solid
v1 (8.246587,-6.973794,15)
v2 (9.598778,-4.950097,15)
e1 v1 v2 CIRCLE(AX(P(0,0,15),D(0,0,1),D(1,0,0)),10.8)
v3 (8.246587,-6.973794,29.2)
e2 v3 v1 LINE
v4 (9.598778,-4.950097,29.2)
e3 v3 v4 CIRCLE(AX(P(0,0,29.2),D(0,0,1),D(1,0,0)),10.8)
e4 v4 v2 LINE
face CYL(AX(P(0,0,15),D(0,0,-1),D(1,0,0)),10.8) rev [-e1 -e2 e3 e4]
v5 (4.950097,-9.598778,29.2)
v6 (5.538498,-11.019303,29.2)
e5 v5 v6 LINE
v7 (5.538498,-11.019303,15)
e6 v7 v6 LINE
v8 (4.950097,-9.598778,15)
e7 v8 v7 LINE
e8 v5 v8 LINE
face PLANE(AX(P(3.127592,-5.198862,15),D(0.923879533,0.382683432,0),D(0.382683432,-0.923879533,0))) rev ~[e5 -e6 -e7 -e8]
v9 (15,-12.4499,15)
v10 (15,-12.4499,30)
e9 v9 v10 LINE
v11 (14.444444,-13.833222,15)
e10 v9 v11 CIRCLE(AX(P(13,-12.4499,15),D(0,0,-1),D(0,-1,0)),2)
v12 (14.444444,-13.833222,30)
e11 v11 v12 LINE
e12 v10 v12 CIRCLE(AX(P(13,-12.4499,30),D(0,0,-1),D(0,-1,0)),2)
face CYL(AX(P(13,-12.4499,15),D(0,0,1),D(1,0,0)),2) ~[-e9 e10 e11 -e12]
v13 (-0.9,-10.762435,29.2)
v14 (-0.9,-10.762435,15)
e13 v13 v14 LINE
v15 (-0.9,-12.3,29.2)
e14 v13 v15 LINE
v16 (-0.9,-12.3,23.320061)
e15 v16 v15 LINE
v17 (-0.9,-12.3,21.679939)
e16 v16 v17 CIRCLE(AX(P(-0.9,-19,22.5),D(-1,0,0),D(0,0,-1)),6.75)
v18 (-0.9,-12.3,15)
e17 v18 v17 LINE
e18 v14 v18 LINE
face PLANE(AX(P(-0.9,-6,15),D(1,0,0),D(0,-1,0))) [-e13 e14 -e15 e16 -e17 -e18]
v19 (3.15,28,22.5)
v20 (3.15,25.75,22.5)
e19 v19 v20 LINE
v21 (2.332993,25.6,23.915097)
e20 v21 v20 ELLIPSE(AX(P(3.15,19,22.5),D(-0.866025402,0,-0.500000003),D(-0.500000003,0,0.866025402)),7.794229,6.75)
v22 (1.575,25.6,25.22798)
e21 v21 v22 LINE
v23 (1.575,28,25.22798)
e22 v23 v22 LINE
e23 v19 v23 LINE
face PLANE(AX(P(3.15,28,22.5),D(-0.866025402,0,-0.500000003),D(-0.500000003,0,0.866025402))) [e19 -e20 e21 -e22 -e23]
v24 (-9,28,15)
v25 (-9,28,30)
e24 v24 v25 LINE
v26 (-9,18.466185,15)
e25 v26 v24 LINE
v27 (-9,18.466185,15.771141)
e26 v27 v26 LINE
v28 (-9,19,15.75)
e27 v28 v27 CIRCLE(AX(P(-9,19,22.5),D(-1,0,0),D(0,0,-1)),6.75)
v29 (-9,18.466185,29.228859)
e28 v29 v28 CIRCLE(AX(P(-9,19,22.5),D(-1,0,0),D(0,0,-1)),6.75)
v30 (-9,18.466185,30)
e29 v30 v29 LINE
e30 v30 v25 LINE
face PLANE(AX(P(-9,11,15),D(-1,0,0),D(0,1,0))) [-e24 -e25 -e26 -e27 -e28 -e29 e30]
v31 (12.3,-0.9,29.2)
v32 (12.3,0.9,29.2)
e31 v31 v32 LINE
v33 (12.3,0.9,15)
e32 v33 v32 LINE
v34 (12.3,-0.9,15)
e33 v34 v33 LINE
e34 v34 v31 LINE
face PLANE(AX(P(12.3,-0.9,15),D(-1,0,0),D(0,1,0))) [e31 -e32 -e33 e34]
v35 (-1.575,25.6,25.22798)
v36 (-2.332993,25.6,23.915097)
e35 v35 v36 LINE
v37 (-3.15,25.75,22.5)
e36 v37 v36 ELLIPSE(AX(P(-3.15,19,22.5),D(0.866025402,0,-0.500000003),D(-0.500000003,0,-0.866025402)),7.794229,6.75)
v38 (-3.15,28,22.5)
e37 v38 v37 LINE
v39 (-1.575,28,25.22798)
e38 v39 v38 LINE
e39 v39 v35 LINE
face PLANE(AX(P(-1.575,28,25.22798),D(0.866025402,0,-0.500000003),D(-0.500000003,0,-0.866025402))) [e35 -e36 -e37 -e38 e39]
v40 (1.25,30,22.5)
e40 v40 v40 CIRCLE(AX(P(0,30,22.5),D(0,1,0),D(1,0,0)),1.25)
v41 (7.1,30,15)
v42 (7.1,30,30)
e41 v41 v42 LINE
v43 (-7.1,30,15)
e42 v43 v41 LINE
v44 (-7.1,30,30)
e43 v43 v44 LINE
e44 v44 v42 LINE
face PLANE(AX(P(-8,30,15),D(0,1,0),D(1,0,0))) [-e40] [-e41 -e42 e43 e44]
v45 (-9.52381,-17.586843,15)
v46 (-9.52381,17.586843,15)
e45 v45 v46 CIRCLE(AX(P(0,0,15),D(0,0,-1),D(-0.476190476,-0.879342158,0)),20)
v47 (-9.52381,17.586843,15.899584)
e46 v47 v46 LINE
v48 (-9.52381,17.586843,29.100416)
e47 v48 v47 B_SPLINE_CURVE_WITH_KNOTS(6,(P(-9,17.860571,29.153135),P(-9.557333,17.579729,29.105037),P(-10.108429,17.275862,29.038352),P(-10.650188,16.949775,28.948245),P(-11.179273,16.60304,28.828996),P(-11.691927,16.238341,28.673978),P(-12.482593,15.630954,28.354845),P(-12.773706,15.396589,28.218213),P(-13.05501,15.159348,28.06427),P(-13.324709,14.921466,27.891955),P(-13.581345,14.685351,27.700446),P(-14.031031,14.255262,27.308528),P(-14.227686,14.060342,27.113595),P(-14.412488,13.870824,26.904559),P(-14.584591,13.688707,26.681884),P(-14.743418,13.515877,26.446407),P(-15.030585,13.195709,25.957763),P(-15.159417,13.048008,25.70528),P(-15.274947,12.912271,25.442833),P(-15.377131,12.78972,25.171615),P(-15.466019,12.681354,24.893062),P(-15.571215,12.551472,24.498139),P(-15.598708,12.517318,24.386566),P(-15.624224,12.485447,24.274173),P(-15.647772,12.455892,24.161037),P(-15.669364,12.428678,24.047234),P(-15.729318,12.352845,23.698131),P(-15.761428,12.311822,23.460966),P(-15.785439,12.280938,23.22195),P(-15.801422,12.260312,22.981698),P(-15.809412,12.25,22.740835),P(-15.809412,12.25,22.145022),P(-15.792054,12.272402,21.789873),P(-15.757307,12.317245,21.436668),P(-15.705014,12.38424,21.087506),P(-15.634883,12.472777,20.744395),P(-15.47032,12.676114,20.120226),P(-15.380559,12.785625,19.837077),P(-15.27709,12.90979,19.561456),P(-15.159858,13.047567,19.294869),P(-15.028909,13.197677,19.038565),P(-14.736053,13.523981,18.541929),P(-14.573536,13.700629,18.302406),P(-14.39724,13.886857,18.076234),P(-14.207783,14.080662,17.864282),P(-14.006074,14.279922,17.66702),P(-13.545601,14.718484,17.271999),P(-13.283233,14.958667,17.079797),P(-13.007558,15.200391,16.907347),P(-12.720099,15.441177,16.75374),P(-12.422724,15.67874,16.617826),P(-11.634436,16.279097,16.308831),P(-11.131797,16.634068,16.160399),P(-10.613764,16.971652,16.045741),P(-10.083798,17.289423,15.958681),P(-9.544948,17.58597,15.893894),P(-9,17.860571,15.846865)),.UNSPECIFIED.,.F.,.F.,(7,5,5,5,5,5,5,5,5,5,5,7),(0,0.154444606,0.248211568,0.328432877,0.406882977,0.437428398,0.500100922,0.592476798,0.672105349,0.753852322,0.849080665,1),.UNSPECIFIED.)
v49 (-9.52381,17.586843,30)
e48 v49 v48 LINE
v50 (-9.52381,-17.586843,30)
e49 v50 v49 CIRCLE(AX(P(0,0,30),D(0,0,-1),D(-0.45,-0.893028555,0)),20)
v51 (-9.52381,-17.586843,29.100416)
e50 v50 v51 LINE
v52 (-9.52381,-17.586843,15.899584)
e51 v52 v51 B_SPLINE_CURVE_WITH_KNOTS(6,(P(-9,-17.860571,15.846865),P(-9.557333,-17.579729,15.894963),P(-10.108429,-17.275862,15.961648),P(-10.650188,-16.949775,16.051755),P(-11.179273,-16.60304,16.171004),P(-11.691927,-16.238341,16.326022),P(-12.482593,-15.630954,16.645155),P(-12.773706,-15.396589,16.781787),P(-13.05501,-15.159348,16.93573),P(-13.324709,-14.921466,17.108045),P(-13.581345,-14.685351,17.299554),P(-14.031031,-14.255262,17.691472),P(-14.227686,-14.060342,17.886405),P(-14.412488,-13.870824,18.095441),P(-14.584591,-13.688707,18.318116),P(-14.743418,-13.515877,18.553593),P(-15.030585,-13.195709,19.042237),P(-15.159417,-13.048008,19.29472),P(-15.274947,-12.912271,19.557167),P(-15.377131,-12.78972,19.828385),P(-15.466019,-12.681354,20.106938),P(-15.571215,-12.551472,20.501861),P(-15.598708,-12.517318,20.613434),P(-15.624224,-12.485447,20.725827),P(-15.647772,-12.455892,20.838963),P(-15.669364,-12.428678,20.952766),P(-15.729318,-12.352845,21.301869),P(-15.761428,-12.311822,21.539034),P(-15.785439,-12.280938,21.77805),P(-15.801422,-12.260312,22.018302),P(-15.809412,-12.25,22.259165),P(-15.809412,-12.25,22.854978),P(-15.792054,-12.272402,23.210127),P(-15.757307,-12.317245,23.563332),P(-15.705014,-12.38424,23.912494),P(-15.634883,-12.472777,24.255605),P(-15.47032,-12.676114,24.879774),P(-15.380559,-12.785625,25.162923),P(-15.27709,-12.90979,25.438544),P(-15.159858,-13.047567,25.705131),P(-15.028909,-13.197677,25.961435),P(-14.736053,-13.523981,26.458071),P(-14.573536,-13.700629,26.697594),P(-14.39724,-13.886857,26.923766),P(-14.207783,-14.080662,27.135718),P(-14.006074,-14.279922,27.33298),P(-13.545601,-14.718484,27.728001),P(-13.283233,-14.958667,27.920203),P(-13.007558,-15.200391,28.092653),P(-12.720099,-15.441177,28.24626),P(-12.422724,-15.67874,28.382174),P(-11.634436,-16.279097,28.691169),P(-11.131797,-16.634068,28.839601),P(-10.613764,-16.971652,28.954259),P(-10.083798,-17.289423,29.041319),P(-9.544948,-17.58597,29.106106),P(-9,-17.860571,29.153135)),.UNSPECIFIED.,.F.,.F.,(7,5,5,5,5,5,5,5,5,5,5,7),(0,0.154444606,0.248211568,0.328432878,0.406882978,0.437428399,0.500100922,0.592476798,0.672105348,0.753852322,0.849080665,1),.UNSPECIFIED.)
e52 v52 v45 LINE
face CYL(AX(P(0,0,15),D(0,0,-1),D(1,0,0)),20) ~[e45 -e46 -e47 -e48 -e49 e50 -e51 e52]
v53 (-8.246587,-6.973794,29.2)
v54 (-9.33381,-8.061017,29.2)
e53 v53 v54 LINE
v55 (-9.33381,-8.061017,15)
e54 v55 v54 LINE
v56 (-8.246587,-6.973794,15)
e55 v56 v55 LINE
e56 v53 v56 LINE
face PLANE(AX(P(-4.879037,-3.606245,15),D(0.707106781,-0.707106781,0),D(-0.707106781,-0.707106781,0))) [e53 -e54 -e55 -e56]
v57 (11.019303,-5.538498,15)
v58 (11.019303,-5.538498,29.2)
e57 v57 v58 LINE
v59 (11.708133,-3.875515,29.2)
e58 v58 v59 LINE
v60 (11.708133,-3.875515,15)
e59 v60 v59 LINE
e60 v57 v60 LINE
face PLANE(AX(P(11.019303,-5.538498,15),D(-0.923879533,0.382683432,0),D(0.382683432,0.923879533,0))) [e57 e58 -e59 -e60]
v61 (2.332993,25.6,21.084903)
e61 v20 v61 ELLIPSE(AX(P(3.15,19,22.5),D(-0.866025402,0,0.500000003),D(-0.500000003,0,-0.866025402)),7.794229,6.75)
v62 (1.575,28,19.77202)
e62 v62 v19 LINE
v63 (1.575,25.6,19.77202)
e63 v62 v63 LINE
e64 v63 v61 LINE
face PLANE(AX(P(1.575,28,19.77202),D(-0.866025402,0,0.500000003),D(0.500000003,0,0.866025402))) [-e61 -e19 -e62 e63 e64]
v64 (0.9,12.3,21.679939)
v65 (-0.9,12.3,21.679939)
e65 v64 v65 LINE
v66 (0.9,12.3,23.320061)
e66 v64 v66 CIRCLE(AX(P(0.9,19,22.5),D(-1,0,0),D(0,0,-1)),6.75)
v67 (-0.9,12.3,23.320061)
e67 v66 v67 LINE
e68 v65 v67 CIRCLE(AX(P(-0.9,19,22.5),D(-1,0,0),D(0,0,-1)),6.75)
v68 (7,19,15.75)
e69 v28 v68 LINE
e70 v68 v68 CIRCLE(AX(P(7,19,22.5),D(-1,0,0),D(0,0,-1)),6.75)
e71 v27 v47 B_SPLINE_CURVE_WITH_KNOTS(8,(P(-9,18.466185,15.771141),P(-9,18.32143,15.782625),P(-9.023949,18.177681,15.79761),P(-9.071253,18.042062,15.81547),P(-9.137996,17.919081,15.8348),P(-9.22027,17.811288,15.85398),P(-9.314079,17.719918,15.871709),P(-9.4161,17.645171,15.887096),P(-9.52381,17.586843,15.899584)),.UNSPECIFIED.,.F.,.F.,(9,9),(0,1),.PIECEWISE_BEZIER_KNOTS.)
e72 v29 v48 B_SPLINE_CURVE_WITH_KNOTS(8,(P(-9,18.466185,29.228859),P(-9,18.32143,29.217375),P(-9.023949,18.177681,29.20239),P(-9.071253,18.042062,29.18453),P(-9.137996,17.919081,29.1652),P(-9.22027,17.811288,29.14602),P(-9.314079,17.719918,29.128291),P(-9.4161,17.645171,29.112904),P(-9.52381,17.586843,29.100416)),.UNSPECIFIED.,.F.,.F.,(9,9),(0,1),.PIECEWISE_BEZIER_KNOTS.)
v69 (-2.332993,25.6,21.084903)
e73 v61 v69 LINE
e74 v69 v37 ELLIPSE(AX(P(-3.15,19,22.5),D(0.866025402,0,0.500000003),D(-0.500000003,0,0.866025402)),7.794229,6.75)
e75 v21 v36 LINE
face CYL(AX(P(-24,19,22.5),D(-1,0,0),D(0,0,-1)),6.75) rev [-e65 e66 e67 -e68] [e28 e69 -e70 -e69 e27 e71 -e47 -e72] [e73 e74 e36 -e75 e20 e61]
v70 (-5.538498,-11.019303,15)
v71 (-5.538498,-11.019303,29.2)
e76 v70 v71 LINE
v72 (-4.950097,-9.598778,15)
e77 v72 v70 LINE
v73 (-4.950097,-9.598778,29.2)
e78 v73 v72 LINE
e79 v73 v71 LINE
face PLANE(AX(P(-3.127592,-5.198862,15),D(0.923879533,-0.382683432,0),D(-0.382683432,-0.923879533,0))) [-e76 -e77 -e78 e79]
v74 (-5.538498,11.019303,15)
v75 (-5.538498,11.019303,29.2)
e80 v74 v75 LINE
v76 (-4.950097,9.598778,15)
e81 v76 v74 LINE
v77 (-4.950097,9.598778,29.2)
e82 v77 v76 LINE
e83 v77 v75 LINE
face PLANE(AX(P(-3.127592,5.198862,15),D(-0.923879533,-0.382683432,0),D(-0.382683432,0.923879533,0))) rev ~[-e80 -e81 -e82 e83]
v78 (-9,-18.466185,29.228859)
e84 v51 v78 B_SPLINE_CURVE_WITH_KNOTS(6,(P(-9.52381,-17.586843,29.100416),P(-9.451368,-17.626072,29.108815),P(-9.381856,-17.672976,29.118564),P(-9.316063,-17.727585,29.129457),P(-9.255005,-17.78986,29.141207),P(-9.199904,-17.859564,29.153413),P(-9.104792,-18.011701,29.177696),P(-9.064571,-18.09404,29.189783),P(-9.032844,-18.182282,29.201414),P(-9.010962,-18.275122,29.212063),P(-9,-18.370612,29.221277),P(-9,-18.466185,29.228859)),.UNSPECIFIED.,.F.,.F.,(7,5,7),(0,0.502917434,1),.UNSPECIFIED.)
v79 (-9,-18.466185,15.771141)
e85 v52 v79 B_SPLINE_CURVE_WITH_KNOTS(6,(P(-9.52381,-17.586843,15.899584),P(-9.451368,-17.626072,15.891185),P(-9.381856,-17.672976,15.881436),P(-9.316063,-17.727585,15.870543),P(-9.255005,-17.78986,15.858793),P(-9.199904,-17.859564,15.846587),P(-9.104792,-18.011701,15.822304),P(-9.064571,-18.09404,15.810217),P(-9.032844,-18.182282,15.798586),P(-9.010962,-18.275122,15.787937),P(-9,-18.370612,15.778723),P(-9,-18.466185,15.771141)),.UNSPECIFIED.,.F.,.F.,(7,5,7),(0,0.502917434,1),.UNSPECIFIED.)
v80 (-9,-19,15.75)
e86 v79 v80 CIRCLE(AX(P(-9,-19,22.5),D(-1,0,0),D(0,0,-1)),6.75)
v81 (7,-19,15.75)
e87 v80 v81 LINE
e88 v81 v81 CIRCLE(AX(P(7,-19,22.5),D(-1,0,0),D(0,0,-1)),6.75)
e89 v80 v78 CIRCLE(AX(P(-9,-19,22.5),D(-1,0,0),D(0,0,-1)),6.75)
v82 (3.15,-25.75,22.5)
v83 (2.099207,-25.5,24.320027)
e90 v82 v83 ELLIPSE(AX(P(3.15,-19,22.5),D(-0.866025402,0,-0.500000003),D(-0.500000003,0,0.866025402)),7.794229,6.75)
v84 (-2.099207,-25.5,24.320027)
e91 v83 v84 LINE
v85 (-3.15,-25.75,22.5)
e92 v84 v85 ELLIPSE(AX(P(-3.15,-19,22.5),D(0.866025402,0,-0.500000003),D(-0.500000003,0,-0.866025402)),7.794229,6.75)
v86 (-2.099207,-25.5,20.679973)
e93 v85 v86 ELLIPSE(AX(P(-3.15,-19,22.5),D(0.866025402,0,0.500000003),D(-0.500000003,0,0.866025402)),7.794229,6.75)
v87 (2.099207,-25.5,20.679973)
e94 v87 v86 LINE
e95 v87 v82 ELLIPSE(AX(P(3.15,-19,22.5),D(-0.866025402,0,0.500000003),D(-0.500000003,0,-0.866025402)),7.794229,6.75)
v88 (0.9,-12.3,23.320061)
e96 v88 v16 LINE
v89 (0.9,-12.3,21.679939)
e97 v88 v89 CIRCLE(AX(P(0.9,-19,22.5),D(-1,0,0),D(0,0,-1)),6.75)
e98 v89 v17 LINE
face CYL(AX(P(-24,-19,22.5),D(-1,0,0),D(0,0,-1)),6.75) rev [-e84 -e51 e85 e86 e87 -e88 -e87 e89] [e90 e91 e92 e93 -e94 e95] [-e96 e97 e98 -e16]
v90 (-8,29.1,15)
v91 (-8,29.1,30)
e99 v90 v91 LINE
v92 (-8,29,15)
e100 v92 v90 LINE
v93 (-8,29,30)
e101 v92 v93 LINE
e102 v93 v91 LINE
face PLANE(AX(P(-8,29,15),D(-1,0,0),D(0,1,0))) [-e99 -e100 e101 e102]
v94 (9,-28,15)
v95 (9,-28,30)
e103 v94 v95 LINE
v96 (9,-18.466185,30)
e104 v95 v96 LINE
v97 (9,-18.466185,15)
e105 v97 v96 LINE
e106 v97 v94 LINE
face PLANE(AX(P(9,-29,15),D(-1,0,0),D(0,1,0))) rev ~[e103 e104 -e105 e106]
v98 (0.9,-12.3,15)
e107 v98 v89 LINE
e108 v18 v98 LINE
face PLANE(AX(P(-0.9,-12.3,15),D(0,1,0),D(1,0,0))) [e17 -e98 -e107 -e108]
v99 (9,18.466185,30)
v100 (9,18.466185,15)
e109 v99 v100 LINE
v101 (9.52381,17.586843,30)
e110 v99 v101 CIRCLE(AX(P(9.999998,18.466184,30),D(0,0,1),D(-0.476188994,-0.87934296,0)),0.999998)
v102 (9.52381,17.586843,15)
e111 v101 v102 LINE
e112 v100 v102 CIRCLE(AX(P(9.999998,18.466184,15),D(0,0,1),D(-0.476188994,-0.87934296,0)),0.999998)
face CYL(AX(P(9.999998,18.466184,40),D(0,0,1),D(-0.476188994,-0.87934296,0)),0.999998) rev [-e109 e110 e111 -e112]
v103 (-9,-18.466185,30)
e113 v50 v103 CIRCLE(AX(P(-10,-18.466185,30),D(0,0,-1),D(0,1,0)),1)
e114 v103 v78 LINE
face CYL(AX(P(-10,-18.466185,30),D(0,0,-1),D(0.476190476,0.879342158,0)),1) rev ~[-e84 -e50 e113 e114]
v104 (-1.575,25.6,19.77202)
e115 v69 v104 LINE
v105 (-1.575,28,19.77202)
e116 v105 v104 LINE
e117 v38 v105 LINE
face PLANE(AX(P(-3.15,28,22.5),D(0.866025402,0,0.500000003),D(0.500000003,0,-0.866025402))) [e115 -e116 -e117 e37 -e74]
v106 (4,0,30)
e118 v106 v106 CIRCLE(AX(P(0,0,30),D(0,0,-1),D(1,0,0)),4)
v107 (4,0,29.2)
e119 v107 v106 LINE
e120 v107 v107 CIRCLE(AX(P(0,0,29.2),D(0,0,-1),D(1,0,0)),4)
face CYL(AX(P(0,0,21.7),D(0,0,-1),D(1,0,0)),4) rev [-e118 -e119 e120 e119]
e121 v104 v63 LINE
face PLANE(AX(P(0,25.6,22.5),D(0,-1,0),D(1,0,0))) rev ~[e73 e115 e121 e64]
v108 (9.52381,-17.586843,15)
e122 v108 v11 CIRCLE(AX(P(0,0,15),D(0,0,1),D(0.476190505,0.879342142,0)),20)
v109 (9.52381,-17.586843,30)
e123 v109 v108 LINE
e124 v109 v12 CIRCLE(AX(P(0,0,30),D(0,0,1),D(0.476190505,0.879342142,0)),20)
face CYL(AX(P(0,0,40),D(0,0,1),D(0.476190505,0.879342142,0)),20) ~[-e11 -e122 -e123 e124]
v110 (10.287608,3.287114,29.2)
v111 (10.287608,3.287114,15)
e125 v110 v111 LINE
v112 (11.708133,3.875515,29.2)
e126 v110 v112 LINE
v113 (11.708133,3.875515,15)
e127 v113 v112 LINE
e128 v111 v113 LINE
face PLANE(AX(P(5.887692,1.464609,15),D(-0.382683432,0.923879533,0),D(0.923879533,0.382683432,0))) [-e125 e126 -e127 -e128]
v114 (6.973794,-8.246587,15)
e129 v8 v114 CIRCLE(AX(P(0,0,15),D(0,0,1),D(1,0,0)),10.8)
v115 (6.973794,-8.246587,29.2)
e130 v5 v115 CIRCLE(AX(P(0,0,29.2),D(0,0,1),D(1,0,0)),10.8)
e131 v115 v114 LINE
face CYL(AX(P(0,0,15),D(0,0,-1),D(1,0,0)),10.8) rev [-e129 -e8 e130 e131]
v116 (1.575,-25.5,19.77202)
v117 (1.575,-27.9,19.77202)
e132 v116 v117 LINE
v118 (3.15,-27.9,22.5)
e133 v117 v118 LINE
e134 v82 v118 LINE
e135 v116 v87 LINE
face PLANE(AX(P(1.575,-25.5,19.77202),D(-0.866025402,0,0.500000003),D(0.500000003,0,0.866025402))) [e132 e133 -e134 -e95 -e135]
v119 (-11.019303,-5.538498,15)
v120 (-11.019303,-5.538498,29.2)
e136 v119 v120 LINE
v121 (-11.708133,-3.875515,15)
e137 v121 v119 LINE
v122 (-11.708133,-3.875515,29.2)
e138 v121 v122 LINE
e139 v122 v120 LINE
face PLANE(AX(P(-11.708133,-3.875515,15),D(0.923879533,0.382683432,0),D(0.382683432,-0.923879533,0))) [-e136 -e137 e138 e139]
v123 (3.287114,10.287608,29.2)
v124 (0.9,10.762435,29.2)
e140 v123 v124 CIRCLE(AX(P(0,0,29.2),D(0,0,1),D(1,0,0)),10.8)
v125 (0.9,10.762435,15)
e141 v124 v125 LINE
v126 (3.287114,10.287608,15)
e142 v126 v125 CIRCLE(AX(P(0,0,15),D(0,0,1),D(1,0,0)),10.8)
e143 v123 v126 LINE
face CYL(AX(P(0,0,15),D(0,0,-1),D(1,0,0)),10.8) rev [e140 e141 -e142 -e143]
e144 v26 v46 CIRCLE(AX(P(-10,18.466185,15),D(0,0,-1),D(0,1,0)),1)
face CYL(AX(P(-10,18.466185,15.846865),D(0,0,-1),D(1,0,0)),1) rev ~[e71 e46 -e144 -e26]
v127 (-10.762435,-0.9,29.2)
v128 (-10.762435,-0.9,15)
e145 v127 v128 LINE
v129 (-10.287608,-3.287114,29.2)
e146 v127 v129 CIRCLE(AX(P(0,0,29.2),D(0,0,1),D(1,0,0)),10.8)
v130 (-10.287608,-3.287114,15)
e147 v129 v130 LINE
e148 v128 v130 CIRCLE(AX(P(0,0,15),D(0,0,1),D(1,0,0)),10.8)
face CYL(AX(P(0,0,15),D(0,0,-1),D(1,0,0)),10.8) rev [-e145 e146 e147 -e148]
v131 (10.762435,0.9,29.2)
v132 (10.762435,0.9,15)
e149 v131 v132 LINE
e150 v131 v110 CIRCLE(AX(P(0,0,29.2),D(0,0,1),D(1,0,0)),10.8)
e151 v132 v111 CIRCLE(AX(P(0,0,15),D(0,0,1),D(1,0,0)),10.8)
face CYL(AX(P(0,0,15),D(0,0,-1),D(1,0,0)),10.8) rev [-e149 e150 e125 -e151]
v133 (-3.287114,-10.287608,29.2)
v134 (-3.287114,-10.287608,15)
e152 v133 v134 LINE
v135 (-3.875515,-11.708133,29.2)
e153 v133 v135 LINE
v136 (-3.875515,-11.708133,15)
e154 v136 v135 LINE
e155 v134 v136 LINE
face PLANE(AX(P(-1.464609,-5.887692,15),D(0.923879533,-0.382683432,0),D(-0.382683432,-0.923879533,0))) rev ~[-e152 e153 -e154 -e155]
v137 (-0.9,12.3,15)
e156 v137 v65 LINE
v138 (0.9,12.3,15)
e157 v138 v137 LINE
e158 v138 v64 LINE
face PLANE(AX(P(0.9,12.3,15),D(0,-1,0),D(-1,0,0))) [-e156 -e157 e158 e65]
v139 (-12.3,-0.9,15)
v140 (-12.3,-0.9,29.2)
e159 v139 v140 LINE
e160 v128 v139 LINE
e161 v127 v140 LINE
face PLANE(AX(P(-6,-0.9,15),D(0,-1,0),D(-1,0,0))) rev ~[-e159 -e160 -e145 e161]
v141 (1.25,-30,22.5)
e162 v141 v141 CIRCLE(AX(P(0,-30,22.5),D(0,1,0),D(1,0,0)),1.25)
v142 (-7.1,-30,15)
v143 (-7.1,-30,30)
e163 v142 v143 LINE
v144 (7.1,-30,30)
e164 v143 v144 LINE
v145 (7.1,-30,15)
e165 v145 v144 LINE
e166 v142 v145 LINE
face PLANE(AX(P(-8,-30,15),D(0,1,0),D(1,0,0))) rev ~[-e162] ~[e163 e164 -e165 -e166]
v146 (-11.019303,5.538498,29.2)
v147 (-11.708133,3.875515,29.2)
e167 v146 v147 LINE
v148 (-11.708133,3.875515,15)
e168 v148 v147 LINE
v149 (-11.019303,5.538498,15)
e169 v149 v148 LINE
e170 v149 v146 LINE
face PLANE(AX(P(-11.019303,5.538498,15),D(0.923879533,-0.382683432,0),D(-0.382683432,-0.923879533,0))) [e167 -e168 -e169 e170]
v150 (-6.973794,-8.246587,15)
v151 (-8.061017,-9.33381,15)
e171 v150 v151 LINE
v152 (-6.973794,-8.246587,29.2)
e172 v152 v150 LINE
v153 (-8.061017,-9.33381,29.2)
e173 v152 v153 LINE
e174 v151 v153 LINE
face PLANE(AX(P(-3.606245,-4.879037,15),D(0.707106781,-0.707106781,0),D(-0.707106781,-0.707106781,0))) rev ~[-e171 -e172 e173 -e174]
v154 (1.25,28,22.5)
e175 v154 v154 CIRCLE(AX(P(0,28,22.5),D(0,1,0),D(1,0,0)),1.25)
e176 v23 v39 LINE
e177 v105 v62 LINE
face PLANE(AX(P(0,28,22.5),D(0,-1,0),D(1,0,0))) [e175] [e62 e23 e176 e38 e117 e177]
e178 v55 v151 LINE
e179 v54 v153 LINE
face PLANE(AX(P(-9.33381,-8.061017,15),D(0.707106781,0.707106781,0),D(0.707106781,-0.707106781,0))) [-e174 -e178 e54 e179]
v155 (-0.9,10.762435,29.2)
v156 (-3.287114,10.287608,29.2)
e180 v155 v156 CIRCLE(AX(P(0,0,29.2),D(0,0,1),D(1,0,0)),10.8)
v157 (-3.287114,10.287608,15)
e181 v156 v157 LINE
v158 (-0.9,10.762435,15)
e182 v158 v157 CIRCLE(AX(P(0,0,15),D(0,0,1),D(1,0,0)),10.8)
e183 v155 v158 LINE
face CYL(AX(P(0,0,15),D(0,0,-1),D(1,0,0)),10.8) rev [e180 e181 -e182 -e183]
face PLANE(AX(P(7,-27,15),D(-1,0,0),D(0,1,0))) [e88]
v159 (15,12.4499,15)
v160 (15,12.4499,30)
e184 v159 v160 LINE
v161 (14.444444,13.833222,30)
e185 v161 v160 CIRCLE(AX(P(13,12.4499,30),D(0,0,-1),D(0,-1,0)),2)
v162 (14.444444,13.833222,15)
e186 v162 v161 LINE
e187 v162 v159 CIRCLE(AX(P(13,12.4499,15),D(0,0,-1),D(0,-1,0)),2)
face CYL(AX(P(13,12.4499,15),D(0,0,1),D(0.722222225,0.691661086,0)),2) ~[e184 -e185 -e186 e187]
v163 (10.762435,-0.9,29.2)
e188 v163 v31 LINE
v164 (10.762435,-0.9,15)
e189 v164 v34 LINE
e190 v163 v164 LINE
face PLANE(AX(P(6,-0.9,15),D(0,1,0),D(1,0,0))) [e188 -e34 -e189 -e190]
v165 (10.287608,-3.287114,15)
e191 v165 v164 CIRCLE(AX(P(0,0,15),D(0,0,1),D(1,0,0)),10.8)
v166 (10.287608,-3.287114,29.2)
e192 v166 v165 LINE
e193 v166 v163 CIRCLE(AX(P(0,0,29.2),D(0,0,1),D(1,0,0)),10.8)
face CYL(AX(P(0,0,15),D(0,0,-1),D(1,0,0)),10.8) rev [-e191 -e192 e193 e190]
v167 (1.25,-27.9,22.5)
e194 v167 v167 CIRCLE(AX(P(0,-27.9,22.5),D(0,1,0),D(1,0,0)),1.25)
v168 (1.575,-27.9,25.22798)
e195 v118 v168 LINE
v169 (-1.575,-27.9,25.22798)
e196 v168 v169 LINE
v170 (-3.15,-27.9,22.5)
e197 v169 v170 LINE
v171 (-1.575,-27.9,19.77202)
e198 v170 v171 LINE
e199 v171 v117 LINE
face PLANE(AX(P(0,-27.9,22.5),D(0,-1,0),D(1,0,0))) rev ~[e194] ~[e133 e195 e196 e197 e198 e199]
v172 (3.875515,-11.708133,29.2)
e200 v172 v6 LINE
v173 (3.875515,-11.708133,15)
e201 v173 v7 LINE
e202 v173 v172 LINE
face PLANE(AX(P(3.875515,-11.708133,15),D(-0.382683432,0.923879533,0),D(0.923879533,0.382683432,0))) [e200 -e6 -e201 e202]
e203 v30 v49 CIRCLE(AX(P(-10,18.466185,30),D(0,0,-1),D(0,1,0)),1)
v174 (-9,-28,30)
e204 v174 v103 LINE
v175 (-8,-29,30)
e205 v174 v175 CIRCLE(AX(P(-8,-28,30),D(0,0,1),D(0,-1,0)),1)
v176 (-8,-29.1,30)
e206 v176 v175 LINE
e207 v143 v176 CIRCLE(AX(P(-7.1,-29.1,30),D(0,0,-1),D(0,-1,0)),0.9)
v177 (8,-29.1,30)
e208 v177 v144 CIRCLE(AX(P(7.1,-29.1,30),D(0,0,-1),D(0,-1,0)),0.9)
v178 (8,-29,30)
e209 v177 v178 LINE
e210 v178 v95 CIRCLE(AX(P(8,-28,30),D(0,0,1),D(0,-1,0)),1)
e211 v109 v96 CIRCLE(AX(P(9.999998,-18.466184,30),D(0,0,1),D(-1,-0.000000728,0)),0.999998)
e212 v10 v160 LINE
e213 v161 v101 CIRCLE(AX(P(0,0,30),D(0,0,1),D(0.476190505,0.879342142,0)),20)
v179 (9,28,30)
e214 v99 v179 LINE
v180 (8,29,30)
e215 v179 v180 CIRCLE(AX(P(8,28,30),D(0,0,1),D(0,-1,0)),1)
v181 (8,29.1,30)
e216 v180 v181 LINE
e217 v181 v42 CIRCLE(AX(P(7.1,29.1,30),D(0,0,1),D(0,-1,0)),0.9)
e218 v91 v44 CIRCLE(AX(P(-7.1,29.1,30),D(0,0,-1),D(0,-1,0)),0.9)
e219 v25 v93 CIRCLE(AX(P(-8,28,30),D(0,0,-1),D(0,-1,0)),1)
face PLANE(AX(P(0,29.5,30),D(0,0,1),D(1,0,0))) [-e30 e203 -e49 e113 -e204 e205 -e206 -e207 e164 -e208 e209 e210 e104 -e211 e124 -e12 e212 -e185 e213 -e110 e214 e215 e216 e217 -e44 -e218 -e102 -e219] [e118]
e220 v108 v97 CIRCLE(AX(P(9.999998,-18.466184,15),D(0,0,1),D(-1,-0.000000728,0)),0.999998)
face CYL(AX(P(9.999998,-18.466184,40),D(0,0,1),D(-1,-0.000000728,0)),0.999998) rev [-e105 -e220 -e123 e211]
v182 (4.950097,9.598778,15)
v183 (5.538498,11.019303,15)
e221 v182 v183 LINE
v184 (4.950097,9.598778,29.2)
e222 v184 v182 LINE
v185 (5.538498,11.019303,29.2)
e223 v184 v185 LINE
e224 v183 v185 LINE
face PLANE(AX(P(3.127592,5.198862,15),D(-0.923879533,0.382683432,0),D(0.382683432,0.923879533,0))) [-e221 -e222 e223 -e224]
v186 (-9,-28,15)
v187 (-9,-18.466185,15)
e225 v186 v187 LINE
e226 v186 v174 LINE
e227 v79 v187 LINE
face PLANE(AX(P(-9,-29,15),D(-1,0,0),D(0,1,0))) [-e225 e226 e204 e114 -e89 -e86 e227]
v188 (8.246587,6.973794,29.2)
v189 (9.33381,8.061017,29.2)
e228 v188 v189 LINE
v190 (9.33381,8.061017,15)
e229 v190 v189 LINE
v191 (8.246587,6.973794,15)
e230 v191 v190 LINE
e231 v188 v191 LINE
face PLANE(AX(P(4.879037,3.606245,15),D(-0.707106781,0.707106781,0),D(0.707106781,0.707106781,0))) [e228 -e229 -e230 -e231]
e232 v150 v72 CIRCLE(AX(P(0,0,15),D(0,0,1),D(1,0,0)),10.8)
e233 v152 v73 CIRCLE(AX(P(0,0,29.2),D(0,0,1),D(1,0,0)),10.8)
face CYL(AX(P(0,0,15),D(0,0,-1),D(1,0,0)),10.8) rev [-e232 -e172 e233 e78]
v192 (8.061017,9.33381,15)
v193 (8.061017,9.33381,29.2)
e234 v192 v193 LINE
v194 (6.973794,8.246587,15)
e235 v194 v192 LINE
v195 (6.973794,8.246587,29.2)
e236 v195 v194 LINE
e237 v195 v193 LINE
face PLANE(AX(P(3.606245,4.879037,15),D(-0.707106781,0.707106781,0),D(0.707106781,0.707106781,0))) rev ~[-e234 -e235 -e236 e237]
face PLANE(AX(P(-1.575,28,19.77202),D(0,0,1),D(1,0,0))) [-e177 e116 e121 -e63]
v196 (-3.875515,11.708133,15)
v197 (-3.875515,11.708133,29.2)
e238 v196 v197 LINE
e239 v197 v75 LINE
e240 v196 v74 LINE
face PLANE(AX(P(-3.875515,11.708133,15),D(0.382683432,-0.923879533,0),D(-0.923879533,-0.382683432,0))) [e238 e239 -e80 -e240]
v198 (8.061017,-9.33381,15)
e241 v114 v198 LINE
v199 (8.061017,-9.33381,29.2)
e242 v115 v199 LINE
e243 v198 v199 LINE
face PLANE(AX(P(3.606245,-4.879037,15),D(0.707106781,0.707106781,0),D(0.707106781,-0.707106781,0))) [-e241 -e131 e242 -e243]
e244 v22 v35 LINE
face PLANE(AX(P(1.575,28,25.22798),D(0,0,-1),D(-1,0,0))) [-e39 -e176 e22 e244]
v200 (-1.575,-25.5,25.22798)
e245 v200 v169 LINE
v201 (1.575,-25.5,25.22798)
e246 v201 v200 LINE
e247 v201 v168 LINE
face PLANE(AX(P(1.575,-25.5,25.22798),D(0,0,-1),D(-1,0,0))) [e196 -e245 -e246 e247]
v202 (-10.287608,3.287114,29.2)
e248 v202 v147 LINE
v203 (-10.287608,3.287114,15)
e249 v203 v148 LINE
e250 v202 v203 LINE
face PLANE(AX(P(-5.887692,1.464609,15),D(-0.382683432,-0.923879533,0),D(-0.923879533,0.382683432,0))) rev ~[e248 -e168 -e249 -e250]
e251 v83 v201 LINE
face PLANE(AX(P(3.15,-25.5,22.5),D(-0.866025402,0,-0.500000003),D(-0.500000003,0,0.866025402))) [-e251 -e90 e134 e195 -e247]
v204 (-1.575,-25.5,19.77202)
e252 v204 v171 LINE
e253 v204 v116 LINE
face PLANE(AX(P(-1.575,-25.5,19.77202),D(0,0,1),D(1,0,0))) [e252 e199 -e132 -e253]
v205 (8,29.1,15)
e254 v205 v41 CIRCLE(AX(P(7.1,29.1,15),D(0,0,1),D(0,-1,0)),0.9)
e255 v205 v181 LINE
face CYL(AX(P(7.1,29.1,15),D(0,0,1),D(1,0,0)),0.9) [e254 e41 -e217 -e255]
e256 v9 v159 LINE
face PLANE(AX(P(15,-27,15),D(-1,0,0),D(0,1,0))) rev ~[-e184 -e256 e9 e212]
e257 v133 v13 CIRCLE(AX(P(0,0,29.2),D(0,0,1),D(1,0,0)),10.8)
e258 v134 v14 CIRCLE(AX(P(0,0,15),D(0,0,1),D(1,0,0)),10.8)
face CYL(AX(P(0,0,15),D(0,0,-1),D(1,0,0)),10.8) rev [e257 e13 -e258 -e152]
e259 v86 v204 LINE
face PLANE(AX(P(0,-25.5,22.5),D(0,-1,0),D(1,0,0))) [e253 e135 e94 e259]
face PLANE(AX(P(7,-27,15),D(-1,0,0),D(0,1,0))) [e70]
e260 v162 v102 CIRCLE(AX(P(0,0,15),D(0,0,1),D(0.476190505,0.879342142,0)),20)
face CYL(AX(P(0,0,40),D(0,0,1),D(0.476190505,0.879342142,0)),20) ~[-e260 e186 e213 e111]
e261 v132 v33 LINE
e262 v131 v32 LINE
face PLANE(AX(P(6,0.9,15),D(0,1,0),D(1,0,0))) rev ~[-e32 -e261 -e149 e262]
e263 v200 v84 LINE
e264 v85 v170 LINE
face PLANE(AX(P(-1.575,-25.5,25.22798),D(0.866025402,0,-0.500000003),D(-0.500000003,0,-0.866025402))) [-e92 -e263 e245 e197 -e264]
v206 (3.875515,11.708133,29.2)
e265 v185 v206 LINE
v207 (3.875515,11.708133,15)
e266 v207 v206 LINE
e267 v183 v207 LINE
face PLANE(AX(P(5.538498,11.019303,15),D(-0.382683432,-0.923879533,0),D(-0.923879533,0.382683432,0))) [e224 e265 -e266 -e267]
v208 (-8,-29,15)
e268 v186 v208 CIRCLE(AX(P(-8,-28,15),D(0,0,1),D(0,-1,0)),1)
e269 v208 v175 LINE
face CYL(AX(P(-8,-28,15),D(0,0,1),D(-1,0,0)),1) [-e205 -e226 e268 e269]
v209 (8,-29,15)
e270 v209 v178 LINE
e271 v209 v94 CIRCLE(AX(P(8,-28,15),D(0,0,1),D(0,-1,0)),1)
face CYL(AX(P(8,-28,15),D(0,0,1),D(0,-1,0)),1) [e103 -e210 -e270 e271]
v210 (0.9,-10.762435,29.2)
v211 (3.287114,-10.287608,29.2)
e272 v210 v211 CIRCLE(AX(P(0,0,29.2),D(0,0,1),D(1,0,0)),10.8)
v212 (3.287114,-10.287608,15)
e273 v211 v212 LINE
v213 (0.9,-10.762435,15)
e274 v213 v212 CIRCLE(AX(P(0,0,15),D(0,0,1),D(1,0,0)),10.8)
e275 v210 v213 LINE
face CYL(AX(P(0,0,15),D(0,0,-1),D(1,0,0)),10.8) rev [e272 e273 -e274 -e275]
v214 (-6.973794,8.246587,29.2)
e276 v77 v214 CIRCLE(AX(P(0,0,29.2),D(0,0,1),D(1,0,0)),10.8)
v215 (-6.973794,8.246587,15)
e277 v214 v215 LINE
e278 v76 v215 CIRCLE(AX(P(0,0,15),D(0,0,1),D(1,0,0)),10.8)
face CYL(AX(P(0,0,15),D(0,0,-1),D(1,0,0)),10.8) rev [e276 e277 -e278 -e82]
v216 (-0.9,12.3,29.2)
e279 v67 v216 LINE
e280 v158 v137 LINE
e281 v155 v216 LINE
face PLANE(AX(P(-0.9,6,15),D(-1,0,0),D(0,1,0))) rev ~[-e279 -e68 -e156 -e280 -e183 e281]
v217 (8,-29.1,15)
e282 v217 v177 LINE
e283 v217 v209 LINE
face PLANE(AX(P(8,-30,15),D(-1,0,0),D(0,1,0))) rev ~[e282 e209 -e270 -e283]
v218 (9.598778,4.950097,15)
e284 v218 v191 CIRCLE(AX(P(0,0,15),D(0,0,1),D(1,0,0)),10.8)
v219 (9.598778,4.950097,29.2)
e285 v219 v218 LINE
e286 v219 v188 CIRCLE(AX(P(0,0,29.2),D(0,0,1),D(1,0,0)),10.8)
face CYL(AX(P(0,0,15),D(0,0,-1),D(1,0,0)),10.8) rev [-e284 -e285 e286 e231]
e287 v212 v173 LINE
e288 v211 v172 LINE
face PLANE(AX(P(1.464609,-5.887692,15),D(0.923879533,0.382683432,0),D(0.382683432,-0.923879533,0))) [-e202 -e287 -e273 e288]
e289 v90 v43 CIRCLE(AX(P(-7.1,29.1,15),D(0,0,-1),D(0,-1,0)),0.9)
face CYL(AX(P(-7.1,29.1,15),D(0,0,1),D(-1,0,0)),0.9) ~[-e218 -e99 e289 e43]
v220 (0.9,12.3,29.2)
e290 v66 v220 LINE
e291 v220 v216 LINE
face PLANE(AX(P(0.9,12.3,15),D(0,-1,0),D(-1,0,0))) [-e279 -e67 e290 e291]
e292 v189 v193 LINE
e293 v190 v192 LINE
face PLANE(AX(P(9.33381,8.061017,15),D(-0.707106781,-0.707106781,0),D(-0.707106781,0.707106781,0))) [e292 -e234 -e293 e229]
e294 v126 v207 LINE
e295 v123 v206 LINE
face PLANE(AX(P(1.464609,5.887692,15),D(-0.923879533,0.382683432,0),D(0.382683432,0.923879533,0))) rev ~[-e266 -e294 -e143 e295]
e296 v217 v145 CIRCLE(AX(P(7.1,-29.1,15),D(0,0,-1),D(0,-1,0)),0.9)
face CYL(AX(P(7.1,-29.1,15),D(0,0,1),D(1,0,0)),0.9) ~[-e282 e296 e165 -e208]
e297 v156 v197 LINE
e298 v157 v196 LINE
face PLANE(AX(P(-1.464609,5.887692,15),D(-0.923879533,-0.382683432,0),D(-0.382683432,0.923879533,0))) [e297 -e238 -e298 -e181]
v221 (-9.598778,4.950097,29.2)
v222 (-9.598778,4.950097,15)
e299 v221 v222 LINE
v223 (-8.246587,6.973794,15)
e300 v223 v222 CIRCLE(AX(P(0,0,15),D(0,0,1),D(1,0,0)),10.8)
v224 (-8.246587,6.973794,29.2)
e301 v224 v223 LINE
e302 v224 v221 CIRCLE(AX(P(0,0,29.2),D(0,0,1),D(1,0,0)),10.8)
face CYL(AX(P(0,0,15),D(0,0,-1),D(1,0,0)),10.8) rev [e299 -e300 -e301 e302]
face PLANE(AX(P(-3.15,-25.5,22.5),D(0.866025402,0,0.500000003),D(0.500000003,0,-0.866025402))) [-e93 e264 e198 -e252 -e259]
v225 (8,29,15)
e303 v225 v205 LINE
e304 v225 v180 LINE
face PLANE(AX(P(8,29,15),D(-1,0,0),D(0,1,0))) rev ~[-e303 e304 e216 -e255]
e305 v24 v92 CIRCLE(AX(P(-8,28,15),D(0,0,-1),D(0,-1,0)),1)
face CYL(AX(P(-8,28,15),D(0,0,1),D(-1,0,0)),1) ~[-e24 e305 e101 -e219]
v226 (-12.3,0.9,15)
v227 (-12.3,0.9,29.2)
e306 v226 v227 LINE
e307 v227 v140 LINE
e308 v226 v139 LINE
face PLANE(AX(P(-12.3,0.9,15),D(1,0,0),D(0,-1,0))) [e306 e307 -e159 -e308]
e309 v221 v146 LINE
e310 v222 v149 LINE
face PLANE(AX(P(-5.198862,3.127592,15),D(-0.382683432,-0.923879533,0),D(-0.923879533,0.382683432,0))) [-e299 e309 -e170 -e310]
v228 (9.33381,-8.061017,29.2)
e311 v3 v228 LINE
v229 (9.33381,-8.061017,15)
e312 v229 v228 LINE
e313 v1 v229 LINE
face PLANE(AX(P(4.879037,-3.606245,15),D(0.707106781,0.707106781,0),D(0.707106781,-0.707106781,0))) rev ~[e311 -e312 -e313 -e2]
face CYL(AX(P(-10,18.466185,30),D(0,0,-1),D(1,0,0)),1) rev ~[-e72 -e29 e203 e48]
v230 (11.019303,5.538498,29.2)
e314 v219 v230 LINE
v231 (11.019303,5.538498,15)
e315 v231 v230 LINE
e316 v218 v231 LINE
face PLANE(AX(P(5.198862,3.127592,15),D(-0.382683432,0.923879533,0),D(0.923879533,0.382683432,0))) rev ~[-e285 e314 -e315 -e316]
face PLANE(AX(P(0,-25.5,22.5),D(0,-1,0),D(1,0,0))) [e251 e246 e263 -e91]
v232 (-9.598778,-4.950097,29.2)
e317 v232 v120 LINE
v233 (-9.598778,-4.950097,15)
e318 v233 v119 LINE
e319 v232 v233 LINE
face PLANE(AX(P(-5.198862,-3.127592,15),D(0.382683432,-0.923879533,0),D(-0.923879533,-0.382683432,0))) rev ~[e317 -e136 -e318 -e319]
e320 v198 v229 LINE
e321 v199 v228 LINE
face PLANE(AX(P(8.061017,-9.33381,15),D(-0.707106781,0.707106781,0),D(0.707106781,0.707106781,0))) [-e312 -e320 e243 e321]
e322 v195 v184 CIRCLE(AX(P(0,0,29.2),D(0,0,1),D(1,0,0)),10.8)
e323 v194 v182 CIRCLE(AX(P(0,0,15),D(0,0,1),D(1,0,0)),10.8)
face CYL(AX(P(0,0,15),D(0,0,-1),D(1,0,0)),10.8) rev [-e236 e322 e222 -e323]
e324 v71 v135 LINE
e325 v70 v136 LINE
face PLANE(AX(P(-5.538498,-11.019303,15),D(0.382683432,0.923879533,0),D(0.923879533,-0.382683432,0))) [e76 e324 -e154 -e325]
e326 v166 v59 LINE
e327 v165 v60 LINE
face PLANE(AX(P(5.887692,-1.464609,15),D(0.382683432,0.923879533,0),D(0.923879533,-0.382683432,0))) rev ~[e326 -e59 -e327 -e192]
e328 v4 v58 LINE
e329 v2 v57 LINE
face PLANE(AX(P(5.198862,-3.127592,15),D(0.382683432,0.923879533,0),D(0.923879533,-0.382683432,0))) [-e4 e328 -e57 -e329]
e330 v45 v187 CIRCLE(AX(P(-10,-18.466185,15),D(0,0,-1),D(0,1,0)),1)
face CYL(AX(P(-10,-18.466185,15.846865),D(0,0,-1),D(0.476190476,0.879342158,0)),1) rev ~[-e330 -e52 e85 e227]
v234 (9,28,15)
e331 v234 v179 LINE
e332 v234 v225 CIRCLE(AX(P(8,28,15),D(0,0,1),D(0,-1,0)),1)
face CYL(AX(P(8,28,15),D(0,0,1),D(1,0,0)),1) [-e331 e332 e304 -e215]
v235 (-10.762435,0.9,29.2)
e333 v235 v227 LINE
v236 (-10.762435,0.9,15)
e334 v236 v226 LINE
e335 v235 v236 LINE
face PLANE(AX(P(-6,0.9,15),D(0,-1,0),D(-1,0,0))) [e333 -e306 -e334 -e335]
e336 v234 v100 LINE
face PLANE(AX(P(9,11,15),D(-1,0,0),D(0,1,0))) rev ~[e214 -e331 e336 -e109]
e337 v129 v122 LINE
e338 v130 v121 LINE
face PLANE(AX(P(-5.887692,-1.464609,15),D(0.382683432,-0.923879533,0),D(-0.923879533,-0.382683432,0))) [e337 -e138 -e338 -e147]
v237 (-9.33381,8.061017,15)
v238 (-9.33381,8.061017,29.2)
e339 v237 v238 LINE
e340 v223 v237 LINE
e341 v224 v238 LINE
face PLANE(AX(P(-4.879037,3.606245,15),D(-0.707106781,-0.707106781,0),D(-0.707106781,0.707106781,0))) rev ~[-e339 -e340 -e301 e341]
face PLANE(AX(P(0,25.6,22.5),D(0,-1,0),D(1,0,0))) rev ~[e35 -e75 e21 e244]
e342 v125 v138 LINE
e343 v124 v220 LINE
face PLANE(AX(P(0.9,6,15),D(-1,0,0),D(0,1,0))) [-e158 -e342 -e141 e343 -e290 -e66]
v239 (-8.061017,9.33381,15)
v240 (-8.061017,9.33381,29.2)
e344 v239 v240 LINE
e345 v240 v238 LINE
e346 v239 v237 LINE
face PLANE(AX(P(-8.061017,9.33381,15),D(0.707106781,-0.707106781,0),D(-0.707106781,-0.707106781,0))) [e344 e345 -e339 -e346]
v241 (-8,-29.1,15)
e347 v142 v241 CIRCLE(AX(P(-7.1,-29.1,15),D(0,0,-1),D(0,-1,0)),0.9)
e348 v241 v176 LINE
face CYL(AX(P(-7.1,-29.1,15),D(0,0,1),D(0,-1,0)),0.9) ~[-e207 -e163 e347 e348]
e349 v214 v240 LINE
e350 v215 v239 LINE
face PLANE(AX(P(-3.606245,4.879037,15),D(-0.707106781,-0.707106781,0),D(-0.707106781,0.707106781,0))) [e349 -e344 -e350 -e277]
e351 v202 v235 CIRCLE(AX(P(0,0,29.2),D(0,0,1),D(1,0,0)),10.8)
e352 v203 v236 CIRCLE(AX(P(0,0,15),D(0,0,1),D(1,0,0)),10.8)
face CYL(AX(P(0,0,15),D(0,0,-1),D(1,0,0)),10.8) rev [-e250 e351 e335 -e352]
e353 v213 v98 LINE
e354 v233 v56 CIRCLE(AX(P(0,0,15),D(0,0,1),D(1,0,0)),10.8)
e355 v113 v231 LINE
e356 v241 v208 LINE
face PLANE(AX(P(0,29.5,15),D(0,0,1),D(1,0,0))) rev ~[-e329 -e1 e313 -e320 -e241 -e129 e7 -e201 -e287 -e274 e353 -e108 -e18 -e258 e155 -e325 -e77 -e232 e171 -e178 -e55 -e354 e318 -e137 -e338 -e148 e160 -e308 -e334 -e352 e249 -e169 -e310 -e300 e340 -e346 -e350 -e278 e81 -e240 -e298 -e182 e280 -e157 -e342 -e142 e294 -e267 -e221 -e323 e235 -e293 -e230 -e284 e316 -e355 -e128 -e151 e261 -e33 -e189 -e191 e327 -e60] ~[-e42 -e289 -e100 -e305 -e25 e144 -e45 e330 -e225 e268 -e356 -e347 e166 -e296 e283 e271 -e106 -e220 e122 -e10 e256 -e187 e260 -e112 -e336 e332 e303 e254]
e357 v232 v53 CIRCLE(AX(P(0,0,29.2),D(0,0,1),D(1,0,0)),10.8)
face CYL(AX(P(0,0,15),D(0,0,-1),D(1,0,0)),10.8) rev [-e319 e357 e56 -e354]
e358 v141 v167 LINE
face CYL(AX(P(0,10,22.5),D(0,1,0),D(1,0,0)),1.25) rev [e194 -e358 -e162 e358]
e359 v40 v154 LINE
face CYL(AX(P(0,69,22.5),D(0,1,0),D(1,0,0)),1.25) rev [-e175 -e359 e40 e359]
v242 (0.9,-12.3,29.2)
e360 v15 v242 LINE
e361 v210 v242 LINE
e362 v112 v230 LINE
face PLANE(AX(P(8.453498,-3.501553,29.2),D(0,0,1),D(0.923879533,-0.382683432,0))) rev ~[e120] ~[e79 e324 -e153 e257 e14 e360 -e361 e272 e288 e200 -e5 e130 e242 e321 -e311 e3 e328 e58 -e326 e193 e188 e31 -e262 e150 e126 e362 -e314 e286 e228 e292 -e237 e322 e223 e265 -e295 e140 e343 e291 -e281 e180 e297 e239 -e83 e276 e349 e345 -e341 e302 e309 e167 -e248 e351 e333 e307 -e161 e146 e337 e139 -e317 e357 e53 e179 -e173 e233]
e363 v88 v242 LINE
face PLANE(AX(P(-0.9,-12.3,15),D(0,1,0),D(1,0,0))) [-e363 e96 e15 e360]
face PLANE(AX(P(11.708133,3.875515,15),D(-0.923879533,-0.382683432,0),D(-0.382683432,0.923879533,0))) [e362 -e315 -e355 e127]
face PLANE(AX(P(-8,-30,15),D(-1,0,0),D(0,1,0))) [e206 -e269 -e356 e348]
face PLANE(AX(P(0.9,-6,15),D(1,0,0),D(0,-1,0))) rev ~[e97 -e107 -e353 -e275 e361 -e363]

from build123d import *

# Parameters (mm, degrees)
CYLINDER060_R     = 4
CYLINDER060_DEPTH = 10
BOX018_W          = 6.3
BOX018_H          = 1.8
BOX018_DEPTH      = 14.2
ARRAY003_COUNT    = 16
CYLINDER056_R     = 10.8
CYLINDER056_DEPTH = 14.2
BOX015_W          = 14
BOX015_H          = 54
BOX015_DEPTH      = 15
BOX016_W          = 40
BOX016_H          = 40
BOX016_DEPTH      = 10
PRISM008_DEPTH    = 2.4
PRISM001_DEPTH    = 2.4
CYLINDER012_R     = 1.25
CYLINDER012_DEPTH = 50
CYLINDER011_R     = 1.25
CYLINDER011_DEPTH = 50
CYLINDER007_R     = 6.75
CYLINDER007_DEPTH = 50
CYLINDER008_R     = 6.75
CYLINDER008_DEPTH = 50
BOX013_W          = 18
BOX013_H          = 18
BOX013_DEPTH      = 15
BOX003_W          = 18
BOX003_H          = 18
BOX003_DEPTH      = 15
CYLINDER004_R     = 11.2
CYLINDER004_DEPTH = 23
CYLINDER002_R     = 0.9
CYLINDER002_DEPTH = 19.75
ARRAY002_COUNT    = 10
CYLINDER006_R     = 10.5
CYLINDER006_DEPTH = 32
CYLINDER005_R     = 20
CYLINDER005_DEPTH = 15
FILLET003_R       = 1
CYLINDER051_R     = 1.25
CYLINDER051_DEPTH = 50
BOX011_W          = 16
BOX011_H          = 1
BOX011_DEPTH      = 15
CYLINDER052_R     = 1.25
CYLINDER052_DEPTH = 50
BOX012_W          = 16
BOX012_H          = 1
BOX012_DEPTH      = 15
FILLET010_R       = 0.9
CYLINDER053_R     = 10.5
CYLINDER053_DEPTH = 15
PAD_DEPTH         = 50
BOX014_W          = 10
BOX014_H          = 54
BOX014_DEPTH      = 15
FILLET011_R       = 2


with BuildPart() as cylinder055:
    # Cylinder060 → Cylinder060 (new body)
    with BuildSketch(Plane.XY.offset(21.7)):
        Circle(CYLINDER060_R)
    extrude(amount=CYLINDER060_DEPTH)


with BuildPart() as array003:
    # Box018 → Box018 (new body)
    with BuildSketch(Plane(origin=(6, -0.9, 15), x_dir=(1, 0, 0), z_dir=(0, 0, 1))):
        with Locations((3.15, 0.9)):
            Rectangle(BOX018_W, BOX018_H)
    extrude(amount=BOX018_DEPTH)

    # Array003: Array003 ×16 about axis
    array003_axis = Axis((0, 0, 0), (0, 0, 1))


with BuildPart() as array003_1:
    add(array003.part)
    for i in range(1, ARRAY003_COUNT):
        add(array003.part.rotate(array003_axis, i * 360 / ARRAY003_COUNT))


with BuildPart() as fusion020:
    # Cylinder056 → Cylinder056 (new body)
    with BuildSketch(Plane.XY.offset(15)):
        Circle(CYLINDER056_R)
    extrude(amount=CYLINDER056_DEPTH)

    # Fusion020: union Array003
    add(array003_1.part)


with BuildPart() as cube015:
    # Box015 → Box015 (new body)
    with BuildSketch(Plane(origin=(15, -27, 15), x_dir=(1, 0, 0), z_dir=(0, 0, 1))):
        with Locations((7, 27)):
            Rectangle(BOX015_W, BOX015_H)
    extrude(amount=BOX015_DEPTH)


with BuildPart() as cube016:
    # Box016 → Box016 (new body)
    with BuildSketch(Plane(origin=(-20, -20, 5), x_dir=(1, 0, 0), z_dir=(0, 0, 1))):
        with Locations((20, 20)):
            Rectangle(BOX016_W, BOX016_H)
    extrude(amount=BOX016_DEPTH)


with BuildPart() as prism008:
    # Prism008 → Prism008 (new body)
    with BuildSketch(Plane(origin=(0, 28, 22.5), x_dir=(1, 0, 0), z_dir=(0, -1, 0))):
        Polygon((3.15, 0), (1.575, 2.72798), (-1.575, 2.72798), (-3.15, 0), (-1.575, -2.72798), (1.575, -2.72798), align=None)
    extrude(amount=PRISM008_DEPTH)


with BuildPart() as prism001:
    # Prism001 → Prism001 (new body)
    with BuildSketch(Plane(origin=(0, -25.5, 22.5), x_dir=(1, 0, 0), z_dir=(0, -1, 0))):
        Polygon((3.15, 0), (1.575, 2.72798), (-1.575, 2.72798), (-3.15, 0), (-1.575, -2.72798), (1.575, -2.72798), align=None)
    extrude(amount=PRISM001_DEPTH)


with BuildPart() as cylinder011:
    # Cylinder012 → Cylinder012 (new body)
    with BuildSketch(Plane(origin=(0, 69, 22.5), x_dir=(1, 0, 0), z_dir=(0, -1, 0))):
        Circle(CYLINDER012_R)
    extrude(amount=CYLINDER012_DEPTH)


with BuildPart() as cylinder010:
    # Cylinder011 → Cylinder011 (new body)
    with BuildSketch(Plane(origin=(0, -16, 22.5), x_dir=(1, 0, 0), z_dir=(0, -1, 0))):
        Circle(CYLINDER011_R)
    extrude(amount=CYLINDER011_DEPTH)


with BuildPart() as cylinder007:
    # Cylinder007 → Cylinder007 (new body)
    with BuildSketch(Plane(origin=(-24, 19, 22.5), x_dir=(0, 0, -1), z_dir=(1, 0, 0))):
        Circle(CYLINDER007_R)
    extrude(amount=CYLINDER007_DEPTH)


with BuildPart() as cylinder008:
    # Cylinder008 → Cylinder008 (new body)
    with BuildSketch(Plane(origin=(-24, -19, 22.5), x_dir=(0, 0, -1), z_dir=(1, 0, 0))):
        Circle(CYLINDER008_R)
    extrude(amount=CYLINDER008_DEPTH)


with BuildPart() as cube013:
    # Box013 → Box013 (new body)
    with BuildSketch(Plane(origin=(-9, -29, 15), x_dir=(1, 0, 0), z_dir=(0, 0, 1))):
        with Locations((9, 9)):
            Rectangle(BOX013_W, BOX013_H)
    extrude(amount=BOX013_DEPTH)


with BuildPart() as cube003:
    # Box003 → Box003 (new body)
    with BuildSketch(Plane(origin=(-9, 11, 15), x_dir=(1, 0, 0), z_dir=(0, 0, 1))):
        with Locations((9, 9)):
            Rectangle(BOX003_W, BOX003_H)
    extrude(amount=BOX003_DEPTH)


with BuildPart() as cylinder004:
    # Cylinder004 → Cylinder004 (new body)
    with BuildSketch(Plane.XY):
        Circle(CYLINDER004_R)
    extrude(amount=CYLINDER004_DEPTH)


with BuildPart() as aspas:
    # Cylinder002 → Cylinder002 (new body)
    with BuildSketch(Plane(origin=(0, 0, 15), x_dir=(0, 0, -1), z_dir=(1, 0, 0))):
        Circle(CYLINDER002_R)
    extrude(amount=CYLINDER002_DEPTH)

    # Array002: aspas ×10 about axis
    array002_axis = Axis((0, 0, 0), (0, 0, 1))


with BuildPart() as aspas_1:
    add(aspas.part)
    for i in range(1, ARRAY002_COUNT):
        add(aspas.part.rotate(array002_axis, i * 360 / ARRAY002_COUNT))

    # Cut002: cut Cylinder004
    add(cylinder004.part, mode=Mode.SUBTRACT)


with BuildPart() as cylinder006:
    # Cylinder006 → Cylinder006 (new body)
    with BuildSketch(Plane.XY):
        Circle(CYLINDER006_R)
    extrude(amount=CYLINDER006_DEPTH)


with BuildPart() as final_soporte_inferior_estante11:
    # Cylinder005 → Cylinder005 (new body)
    with BuildSketch(Plane.XY.offset(15)):
        Circle(CYLINDER005_R)
    extrude(amount=CYLINDER005_DEPTH)

    # Cut004: cut Cylinder006
    add(cylinder006.part, mode=Mode.SUBTRACT)

    # Fusion001: union aspas
    add(aspas_1.part)

    # Fusion002: union Cube013, Cube003
    add(cube013.part)
    add(cube003.part)

    # Cut005: cut Cylinder008
    add(cylinder008.part, mode=Mode.SUBTRACT)

    # Cut006: cut Cylinder007
    add(cylinder007.part, mode=Mode.SUBTRACT)

    # Fillet003
    fillet003_edges = [final_soporte_inferior_estante11.edges().sort_by_distance(p)[0] for p in [
        (-9, -17.860571, 29.576567),
        (-9, -17.860571, 15.423433),
        (-9, -29, 22.5),
        (-9, 17.860571, 15.423433),
        (-9, 17.860571, 29.576567),
        (9, -29, 22.5),
        (9, -17.860571, 29.576567),
        (9, -17.860571, 15.423433),
        (9, 17.860571, 29.576567),
        (9, 17.860571, 15.423433),
        (9, 29, 22.5),
        (-9, 29, 22.5),
    ]]
    fillet(fillet003_edges, radius=FILLET003_R)

    # Cut008: cut Cylinder010
    add(cylinder010.part, mode=Mode.SUBTRACT)

    # Cut009: cut Cylinder011
    add(cylinder011.part, mode=Mode.SUBTRACT)

    # Cut035: cut Prism001
    add(prism001.part, mode=Mode.SUBTRACT)

    # Cut036: cut Prism008
    add(prism008.part, mode=Mode.SUBTRACT)


with BuildPart() as cylinder049:
    # Cylinder051 → Cylinder051 (new body)
    with BuildSketch(Plane(origin=(0, 69, 22.5), x_dir=(1, 0, 0), z_dir=(0, -1, 0))):
        Circle(CYLINDER051_R)
    extrude(amount=CYLINDER051_DEPTH)


with BuildPart() as cut037:
    # Box011 → Box011 (new body)
    with BuildSketch(Plane(origin=(-8, 29, 15), x_dir=(1, 0, 0), z_dir=(0, 0, 1))):
        with Locations((8, 0.5)):
            Rectangle(BOX011_W, BOX011_H)
    extrude(amount=BOX011_DEPTH)

    # Cut037: cut Cylinder049
    add(cylinder049.part, mode=Mode.SUBTRACT)


with BuildPart() as cylinder021:
    # Cylinder052 → Cylinder052 (new body)
    with BuildSketch(Plane(origin=(0, 69, 22.5), x_dir=(1, 0, 0), z_dir=(0, -1, 0))):
        Circle(CYLINDER052_R)
    extrude(amount=CYLINDER052_DEPTH)


with BuildPart() as final_soporte_inferior_estante1:
    # Box012 → Box012 (new body)
    with BuildSketch(Plane(origin=(-8, 29, 15), x_dir=(1, 0, 0), z_dir=(0, 0, 1))):
        with Locations((8, 0.5)):
            Rectangle(BOX012_W, BOX012_H)
    extrude(amount=BOX012_DEPTH)

    # Cut038: cut Cylinder021
    add(cylinder021.part, mode=Mode.SUBTRACT)


with BuildPart() as final_soporte_inferior_estante1_1:
    # Cut038 placement: moved
    add(final_soporte_inferior_estante1.part.moved(Location((0, -59, 0))))

    # Fusion017: union final_soporte_inferior_estante11, Cut037
    add(final_soporte_inferior_estante11.part)
    add(cut037.part)

    # Fillet010
    fillet010_edges = [final_soporte_inferior_estante1_1.edges().sort_by_distance(p)[0] for p in [
        (-8, -30, 22.5),
        (8, -30, 22.5),
        (-8, 30, 22.5),
        (8, 30, 22.5),
    ]]
    fillet(fillet010_edges, radius=FILLET010_R)


with BuildPart() as cylinder050:
    # Cylinder053 → Cylinder053 (new body)
    with BuildSketch(Plane.XY.offset(15)):
        Circle(CYLINDER053_R)
    extrude(amount=CYLINDER053_DEPTH)


with BuildPart() as body:
    # CopySketch → Pad (new body)
    with BuildSketch(Plane(origin=(0, 0, 15), x_dir=(1, 0, 0), z_dir=(0, 0, -1))):
        with BuildLine():
            Line((9, 28), (9, 18.466185))
            ThreePointArc((9, 18.466185), (9.140875, 17.954419), (9.52381, 17.586843))
            ThreePointArc((9.52381, -17.586843), (20, 0), (9.52381, 17.586843))
            ThreePointArc((9.52381, -17.586843), (9.140875, -17.954419), (9, -18.466185))
            Line((9, -18.466185), (9, -28))
            Line((27.474319, -28), (9, -28))
            Line((27.474319, 28), (27.474319, -28))
            Line((9, 28), (27.474319, 28))
        make_face()
    extrude(amount=PAD_DEPTH)


with BuildPart() as body_1:
    # Body placement: moved
    add(body.part.moved(Location((0, 0, 25))))


with BuildPart() as extremo_microfono_done:
    # Box014 → Box014 (new body)
    with BuildSketch(Plane(origin=(7, -27, 15), x_dir=(1, 0, 0), z_dir=(0, 0, 1))):
        with Locations((5, 27)):
            Rectangle(BOX014_W, BOX014_H)
    extrude(amount=BOX014_DEPTH)

    # Cut039: cut Body
    add(body_1.part, mode=Mode.SUBTRACT)

    # Fusion018: union Cylinder050
    add(cylinder050.part)

    # Fusion019: union final_soporte_inferior_estante1
    add(final_soporte_inferior_estante1_1.part)

    # Cut040: cut Cube016
    add(cube016.part, mode=Mode.SUBTRACT)

    # Cut041: cut Cube015
    add(cube015.part, mode=Mode.SUBTRACT)

    # Fillet011
    fillet011_edges = [extremo_microfono_done.edges().sort_by_distance(p)[0] for p in [
        (15, 13.228757, 28.000375),
        (15, 13.228757, 22.5),
        (15, 13.228757, 16.999625),
        (15, -13.228757, 16.999625),
        (15, -13.228757, 22.5),
        (15, -13.228757, 28.000375),
    ]]
    fillet(fillet011_edges, radius=FILLET011_R)

    # Cut042: cut Fusion020
    add(fusion020.part, mode=Mode.SUBTRACT)

    # Cut045: cut Cylinder055
    add(cylinder055.part, mode=Mode.SUBTRACT)


solid = extremo_microfono_done.part
